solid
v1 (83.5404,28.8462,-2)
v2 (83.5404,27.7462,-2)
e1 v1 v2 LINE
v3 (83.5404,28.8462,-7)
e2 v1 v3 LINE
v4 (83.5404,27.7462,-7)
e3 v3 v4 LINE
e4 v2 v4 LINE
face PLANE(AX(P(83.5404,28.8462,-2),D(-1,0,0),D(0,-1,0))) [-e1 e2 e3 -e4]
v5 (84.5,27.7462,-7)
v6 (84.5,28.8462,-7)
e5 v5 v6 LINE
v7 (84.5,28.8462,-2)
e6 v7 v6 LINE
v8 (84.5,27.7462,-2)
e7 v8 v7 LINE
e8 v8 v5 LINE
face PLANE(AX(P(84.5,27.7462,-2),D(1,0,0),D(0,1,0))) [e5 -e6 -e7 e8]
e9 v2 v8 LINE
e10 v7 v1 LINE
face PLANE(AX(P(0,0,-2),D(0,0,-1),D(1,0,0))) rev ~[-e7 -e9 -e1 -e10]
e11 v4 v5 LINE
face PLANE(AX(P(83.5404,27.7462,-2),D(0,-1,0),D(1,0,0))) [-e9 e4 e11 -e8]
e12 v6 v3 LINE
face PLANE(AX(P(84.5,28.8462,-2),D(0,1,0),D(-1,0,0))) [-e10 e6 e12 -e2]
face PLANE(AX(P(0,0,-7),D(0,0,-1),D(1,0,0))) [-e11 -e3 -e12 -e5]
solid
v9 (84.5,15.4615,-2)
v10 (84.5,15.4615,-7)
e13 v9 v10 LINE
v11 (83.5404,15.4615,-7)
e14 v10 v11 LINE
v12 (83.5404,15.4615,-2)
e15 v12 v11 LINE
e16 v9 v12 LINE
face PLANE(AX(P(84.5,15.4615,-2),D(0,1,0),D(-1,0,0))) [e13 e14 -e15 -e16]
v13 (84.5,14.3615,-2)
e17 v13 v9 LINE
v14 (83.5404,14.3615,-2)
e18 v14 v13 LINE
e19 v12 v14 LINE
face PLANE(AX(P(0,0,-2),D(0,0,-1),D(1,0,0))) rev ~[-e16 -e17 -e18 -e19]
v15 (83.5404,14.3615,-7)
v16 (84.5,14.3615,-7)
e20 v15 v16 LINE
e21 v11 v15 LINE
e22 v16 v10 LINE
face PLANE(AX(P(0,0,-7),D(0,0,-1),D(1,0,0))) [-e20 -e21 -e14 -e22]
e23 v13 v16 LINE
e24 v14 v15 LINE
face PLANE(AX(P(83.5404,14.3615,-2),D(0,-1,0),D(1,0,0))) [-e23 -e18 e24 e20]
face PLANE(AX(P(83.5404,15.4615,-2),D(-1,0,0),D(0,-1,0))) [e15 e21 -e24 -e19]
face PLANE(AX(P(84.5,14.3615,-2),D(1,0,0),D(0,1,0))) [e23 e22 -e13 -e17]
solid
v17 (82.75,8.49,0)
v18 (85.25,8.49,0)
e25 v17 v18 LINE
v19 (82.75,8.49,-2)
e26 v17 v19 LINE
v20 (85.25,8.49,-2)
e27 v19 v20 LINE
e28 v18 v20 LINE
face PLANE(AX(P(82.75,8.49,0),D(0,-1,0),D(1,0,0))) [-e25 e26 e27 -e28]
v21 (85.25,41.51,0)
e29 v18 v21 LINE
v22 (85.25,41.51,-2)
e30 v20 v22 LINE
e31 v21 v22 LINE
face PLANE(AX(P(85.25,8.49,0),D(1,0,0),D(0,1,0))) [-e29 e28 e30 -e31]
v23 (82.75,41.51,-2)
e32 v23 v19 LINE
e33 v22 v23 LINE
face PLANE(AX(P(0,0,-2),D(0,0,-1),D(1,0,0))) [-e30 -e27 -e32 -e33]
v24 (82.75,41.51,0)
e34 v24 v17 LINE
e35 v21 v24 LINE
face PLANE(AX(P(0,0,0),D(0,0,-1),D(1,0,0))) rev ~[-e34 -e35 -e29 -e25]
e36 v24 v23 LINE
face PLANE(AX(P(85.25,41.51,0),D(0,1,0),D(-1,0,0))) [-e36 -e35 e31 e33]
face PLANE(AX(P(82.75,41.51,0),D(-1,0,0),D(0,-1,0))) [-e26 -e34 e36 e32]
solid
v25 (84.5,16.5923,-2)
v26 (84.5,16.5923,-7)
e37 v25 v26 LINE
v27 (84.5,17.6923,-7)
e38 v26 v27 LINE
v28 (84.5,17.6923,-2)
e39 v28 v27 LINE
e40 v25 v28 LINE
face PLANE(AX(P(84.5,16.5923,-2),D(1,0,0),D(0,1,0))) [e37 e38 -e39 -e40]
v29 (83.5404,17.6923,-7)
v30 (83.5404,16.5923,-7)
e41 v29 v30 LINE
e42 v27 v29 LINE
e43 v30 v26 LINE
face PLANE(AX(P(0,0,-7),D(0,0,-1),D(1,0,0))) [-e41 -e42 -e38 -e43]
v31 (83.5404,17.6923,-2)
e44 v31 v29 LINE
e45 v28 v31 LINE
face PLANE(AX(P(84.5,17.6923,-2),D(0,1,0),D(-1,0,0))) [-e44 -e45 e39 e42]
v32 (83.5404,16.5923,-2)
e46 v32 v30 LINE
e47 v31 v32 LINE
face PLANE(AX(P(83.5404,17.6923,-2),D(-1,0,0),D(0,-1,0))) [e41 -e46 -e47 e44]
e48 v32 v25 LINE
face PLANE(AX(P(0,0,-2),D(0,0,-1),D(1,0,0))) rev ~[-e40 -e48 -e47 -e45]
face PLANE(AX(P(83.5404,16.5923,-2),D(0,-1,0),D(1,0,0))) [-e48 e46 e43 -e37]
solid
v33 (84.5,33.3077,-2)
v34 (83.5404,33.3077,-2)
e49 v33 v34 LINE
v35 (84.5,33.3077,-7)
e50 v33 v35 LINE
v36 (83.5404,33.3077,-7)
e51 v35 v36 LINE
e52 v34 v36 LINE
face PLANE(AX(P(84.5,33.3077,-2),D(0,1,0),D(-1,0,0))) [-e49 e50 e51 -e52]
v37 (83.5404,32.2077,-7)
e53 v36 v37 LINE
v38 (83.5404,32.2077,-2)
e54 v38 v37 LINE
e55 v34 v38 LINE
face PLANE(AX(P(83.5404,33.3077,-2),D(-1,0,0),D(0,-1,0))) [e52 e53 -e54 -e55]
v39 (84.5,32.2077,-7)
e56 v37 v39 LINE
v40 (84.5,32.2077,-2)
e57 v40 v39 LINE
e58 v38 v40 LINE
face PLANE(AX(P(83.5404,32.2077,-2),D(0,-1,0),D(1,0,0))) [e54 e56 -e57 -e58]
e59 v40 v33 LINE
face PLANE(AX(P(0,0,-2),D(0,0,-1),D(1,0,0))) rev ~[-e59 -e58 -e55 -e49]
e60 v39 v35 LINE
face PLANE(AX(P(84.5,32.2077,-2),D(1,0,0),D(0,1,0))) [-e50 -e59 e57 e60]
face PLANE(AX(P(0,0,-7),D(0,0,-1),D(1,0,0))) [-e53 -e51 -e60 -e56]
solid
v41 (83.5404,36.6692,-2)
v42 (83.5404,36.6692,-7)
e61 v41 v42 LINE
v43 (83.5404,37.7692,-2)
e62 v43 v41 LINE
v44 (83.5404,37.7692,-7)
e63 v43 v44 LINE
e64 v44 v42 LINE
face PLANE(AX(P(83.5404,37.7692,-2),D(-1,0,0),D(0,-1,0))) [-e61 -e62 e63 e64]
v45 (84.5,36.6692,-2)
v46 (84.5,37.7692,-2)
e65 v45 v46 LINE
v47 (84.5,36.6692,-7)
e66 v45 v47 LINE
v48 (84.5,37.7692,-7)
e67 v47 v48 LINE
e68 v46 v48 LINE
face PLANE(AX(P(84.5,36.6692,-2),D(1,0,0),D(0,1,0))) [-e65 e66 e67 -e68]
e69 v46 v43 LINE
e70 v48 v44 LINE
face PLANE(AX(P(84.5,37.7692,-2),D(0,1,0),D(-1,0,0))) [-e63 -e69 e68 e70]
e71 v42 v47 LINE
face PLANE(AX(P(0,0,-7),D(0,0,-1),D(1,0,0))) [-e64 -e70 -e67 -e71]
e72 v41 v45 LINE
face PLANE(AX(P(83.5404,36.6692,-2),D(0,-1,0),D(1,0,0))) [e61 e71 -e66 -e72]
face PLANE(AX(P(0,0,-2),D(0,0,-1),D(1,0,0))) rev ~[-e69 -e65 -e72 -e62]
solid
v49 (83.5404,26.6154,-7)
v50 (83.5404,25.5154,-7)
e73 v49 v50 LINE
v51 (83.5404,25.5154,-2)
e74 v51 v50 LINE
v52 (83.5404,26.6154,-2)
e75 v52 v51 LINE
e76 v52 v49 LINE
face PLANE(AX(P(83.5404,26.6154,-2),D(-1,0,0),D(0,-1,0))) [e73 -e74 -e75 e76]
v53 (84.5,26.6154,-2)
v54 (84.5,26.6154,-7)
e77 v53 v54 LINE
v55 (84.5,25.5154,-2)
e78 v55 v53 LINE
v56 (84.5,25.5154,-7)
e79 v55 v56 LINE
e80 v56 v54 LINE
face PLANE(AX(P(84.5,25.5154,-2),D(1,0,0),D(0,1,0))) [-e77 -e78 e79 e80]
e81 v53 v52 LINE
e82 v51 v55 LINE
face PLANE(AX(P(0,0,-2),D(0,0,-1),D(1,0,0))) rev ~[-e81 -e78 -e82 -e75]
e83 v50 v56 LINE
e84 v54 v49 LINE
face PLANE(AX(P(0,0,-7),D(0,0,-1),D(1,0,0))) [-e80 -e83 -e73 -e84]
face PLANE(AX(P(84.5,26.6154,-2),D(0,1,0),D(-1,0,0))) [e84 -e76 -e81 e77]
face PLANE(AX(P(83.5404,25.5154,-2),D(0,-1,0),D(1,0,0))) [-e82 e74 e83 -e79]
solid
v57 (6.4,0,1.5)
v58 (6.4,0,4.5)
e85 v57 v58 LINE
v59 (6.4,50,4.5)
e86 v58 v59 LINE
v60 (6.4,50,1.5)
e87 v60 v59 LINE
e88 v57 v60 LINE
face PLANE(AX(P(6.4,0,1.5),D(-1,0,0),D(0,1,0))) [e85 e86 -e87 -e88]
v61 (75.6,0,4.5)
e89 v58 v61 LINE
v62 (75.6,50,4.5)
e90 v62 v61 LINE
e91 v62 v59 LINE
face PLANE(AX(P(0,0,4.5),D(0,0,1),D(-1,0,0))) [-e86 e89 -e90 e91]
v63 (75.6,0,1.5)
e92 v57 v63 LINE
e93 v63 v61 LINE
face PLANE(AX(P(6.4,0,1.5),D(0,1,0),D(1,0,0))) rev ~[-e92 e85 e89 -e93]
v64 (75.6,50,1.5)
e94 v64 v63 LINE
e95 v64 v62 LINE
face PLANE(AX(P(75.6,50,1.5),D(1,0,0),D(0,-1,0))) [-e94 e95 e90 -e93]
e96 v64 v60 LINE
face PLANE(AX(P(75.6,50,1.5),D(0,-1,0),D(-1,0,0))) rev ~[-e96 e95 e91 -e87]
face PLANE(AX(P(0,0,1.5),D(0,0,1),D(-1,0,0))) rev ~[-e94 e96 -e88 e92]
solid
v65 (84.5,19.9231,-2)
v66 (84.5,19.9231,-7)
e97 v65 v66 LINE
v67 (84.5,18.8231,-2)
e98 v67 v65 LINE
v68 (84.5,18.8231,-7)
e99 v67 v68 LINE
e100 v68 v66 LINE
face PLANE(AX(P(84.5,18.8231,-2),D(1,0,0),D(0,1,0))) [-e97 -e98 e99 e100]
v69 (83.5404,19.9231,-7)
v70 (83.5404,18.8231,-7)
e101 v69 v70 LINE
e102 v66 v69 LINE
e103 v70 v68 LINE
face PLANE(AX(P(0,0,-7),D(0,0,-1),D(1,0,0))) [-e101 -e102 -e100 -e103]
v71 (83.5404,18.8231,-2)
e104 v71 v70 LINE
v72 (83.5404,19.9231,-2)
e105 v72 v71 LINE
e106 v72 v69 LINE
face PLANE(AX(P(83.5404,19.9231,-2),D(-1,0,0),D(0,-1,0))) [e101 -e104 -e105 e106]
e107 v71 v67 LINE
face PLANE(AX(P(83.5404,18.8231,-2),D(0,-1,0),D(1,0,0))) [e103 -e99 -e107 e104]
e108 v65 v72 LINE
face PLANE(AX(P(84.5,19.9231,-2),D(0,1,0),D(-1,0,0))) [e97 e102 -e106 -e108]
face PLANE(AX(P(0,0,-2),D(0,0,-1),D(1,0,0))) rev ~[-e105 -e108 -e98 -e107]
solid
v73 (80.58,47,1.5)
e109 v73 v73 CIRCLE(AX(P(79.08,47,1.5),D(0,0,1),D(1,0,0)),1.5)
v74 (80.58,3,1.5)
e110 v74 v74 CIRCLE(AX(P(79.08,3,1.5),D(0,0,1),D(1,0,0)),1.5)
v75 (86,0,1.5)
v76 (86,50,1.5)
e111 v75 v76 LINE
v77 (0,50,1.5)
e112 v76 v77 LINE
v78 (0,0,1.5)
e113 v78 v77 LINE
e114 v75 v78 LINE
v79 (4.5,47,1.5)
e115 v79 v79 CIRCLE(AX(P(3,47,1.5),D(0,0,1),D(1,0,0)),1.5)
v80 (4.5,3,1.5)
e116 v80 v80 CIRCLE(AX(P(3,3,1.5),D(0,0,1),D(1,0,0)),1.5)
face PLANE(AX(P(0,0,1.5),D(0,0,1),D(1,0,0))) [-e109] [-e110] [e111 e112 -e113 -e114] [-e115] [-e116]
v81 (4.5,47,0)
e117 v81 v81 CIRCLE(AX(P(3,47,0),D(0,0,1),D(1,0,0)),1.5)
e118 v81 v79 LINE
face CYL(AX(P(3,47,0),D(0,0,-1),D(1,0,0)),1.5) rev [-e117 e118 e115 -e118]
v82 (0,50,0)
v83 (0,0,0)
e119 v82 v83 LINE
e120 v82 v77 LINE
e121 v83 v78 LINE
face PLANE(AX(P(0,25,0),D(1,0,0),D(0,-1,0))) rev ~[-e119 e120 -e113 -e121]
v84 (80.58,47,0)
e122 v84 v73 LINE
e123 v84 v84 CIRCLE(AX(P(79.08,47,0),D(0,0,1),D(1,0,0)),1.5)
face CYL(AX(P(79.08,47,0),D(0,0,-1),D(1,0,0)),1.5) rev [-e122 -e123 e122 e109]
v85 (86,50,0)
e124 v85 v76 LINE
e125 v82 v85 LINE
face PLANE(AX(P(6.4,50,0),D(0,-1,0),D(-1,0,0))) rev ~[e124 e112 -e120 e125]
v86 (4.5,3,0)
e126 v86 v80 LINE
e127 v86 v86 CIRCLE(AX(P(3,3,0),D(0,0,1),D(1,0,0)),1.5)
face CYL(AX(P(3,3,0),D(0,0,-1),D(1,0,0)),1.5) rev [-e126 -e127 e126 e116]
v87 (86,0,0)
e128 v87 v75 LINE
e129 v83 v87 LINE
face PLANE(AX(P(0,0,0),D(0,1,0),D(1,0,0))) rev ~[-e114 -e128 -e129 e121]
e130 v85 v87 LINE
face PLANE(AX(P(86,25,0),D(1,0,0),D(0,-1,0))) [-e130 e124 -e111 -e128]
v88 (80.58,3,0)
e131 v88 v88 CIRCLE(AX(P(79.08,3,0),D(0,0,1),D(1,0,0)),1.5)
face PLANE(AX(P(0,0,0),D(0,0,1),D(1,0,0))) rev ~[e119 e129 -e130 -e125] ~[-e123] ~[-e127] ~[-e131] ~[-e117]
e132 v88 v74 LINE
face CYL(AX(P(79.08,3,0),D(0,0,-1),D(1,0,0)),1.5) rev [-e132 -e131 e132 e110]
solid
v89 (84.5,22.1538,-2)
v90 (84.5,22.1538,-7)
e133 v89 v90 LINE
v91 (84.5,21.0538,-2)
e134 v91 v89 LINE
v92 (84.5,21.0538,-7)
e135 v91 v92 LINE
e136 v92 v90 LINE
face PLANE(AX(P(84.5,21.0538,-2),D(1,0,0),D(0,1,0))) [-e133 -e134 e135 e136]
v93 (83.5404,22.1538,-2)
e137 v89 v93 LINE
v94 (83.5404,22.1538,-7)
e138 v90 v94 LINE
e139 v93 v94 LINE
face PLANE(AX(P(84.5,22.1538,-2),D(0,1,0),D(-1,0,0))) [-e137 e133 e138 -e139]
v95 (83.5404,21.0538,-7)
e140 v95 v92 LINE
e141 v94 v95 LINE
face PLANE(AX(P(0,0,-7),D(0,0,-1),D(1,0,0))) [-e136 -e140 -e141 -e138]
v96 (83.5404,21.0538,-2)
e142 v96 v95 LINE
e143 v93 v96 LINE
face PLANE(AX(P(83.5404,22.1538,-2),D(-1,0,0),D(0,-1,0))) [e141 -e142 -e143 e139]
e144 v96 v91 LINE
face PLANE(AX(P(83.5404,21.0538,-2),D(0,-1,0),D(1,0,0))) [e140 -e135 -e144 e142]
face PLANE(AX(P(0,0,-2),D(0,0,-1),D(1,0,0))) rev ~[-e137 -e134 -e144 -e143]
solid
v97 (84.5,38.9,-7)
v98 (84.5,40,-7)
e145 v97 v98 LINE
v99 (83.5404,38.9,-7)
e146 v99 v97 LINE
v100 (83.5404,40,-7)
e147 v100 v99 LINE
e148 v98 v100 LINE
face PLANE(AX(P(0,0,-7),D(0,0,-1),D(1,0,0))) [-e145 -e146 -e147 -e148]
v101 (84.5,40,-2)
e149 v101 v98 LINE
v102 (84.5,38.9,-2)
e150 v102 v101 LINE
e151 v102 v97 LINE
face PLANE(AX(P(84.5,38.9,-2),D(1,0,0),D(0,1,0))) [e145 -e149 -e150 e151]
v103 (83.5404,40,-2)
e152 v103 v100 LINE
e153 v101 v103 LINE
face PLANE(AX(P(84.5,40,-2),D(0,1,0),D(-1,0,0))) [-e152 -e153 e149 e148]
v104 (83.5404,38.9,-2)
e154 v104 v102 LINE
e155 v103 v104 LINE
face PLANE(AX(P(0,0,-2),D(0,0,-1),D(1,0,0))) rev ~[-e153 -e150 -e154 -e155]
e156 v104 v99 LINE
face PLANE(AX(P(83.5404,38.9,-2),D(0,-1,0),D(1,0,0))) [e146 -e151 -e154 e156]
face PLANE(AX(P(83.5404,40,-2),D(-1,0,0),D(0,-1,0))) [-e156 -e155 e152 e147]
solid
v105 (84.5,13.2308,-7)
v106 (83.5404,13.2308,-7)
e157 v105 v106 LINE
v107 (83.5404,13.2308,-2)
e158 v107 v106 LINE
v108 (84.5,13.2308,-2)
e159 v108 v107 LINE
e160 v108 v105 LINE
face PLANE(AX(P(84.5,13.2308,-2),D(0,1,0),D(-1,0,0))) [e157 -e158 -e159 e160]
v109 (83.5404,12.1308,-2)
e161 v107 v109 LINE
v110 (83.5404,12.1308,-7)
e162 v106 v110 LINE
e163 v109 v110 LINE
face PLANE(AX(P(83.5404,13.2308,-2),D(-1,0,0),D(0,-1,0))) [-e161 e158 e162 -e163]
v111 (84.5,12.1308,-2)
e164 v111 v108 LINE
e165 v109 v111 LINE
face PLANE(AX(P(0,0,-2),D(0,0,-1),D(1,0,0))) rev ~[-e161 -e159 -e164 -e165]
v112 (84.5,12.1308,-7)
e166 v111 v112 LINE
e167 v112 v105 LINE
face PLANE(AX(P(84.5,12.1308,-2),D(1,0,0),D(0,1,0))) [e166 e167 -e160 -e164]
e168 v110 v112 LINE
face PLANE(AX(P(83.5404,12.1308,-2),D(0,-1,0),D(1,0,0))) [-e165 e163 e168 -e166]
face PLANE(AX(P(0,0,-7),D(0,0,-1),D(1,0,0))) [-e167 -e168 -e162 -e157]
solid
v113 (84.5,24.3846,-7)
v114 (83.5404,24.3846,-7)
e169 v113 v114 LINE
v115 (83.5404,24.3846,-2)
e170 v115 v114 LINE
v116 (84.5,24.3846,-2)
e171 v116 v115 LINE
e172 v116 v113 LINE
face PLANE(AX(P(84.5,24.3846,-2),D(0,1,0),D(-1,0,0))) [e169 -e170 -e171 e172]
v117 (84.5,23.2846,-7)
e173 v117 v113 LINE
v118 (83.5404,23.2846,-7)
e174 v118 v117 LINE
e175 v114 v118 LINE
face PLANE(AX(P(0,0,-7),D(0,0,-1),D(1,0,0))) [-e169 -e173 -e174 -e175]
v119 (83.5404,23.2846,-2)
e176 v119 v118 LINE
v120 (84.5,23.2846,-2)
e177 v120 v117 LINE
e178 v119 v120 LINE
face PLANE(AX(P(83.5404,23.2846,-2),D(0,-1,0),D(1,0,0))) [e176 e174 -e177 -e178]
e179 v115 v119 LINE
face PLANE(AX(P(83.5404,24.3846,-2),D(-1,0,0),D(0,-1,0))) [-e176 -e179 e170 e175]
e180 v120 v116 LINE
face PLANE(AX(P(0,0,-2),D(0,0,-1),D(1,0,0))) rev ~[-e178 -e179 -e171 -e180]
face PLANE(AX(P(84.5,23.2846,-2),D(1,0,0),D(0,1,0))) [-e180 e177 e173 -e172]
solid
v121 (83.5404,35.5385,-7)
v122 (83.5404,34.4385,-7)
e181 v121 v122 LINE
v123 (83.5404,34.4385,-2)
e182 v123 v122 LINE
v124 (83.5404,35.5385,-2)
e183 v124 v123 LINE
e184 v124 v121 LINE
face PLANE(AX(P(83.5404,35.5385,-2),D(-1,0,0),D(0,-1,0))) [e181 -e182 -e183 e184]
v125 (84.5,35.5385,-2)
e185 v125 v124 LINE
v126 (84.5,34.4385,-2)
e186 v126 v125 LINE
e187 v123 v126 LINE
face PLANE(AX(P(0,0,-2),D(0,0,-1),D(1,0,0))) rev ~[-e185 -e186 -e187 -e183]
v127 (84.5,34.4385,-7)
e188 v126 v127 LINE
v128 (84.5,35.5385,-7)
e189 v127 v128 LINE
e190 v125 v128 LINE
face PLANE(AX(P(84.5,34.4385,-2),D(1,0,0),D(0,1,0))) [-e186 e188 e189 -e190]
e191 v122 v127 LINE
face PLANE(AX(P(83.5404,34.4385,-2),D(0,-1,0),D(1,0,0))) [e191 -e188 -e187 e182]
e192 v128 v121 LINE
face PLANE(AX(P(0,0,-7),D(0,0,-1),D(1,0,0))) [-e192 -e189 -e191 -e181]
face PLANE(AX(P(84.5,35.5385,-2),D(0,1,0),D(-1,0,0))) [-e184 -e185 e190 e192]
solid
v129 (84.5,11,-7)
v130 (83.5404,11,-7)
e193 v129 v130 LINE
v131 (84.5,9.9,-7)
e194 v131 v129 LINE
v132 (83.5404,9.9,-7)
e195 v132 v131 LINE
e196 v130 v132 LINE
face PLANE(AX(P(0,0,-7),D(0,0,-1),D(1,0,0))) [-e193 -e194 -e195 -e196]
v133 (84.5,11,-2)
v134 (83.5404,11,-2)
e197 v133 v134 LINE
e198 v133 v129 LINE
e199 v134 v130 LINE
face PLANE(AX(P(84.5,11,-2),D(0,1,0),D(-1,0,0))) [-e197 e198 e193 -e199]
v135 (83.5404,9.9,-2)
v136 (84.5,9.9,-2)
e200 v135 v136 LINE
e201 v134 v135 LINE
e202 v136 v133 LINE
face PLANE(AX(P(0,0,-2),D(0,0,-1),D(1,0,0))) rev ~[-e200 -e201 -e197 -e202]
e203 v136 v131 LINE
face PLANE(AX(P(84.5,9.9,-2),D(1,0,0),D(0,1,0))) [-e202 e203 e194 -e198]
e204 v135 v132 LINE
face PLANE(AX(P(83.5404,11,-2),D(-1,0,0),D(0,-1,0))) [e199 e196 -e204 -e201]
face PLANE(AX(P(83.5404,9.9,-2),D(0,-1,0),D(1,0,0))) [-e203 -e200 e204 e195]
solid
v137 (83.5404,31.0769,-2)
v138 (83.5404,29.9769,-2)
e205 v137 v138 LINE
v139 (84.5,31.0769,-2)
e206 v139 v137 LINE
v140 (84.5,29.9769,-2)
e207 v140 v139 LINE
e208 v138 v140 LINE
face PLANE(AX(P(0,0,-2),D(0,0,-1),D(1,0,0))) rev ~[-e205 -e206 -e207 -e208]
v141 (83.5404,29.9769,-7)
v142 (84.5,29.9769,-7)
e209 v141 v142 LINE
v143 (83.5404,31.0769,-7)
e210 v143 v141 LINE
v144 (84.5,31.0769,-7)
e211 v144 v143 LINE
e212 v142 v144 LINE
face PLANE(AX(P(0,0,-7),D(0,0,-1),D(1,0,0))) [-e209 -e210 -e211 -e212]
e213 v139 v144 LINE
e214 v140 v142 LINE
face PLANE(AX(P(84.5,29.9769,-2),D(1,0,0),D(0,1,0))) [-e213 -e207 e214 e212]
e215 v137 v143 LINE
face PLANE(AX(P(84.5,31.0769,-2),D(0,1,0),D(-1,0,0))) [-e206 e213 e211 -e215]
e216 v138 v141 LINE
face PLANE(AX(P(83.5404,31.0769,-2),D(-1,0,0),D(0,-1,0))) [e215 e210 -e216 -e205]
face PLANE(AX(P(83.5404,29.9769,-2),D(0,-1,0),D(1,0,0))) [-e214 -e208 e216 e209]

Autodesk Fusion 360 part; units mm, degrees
sketch "草图1" plane through (0, 0, 0) normal (0, 0, 1) x (1, 0, 0)
  line L0 (0, 0) -> (6.4, 0)
  line L1 (6.4, 0) -> (6.4, 50)
  line L2 (6.4, 50) -> (0, 50)
  line L3 (0, 50) -> (0, 0)
  line L4 (6.4, 50) -> (75.6, 50)
  line L5 (75.6, 50) -> (75.6, 0)
  line L6 (75.6, 0) -> (6.4, 0)
  line L7 (6.4, 0) -> (6.4, 50)
  line L8 (75.6, 50) -> (86, 50)
  line L9 (86, 50) -> (86, 0)
  line L10 (86, 0) -> (75.6, 0)
  line L11 (75.6, 0) -> (75.6, 50)
  line L12 (-10, 25) -> (111.3719, 25)
  circle A0 centre (3, 3) radius 1.5
  circle A1 centre (3, 47) radius 1.5
  circle A2 centre (79.08, 47) radius 1.5
  circle A3 centre (79.08, 3) radius 1.5
  dimension "d1" = 50
  dimension "d2" = 6.4
  dimension "d3" = 69.2
  dimension "d4" = 10.4
  dimension "d5" = 3
  dimension "d6" = 3
  dimension "d7" = 3
  dimension "d8" = 50
  dimension "d9" = 3
  dimension "d10" = 3
  dimension "d11" = 6.92
extrude "拉伸1" add sketch "草图1" along normal blind 1.5 makes body 1
sketch "草图2" plane through (0, 0, 1.5) normal (0, 0, 1) x (-1, 0, 0)
  circle A0 centre (-3, -47) radius 1.5
  circle A1 centre (-79.08, -47) radius 1.5
  circle A2 centre (-3, -3) radius 1.5
  circle A3 centre (-79.08, -3) radius 1.5
  line L0 (-86, -50) -> (0, -50)
  line L1 (0, -50) -> (0, 0)
  line L2 (0, 0) -> (-86, 0)
  line L3 (-86, 0) -> (-86, -50)
  line L4 (-6.4, -50) -> (-75.6, -50)
  line L5 (-75.6, -50) -> (-75.6, 0)
  line L6 (-75.6, 0) -> (-6.4, 0)
  line L7 (-6.4, 0) -> (-6.4, -50)
  dimension "d14" = 69.2
  dimension "d15" = 6.4
extrude "拉伸2" add sketch "草图2" along normal blind 3 separate body contours L0 L2 L4 L5 L6 L7 makes body 2
sketch "草图3" plane through (0, 0, 0) normal (0, 0, -1) x (1, 0, 0)
  circle A0 centre (3, -47) radius 1.5
  circle A1 centre (79.08, -47) radius 1.5
  circle A2 centre (3, -3) radius 1.5
  circle A3 centre (79.08, -3) radius 1.5
  line L0 (0, -50) -> (86, -50)
  line L1 (86, -50) -> (86, 0)
  line L2 (86, 0) -> (0, 0)
  line L3 (0, 0) -> (0, -50)
  line L4 (82.75, -8.49) -> (85.25, -8.49)
  line L5 (85.25, -8.49) -> (85.25, -41.51)
  line L6 (85.25, -41.51) -> (82.75, -41.51)
  line L7 (82.75, -41.51) -> (82.75, -8.49)
  dimension "d18" = 8.49
  dimension "d19" = 8.49
  dimension "d20" = 2.5
  dimension "d21" = 0.75
extrude "拉伸3" add sketch "草图3" along normal blind 2 separate body contours L4 L5 L6 L7 makes body 3
sketch "草图4" plane through (0, 0, -2) normal (0, 0, -1) x (1, 0, 0)
  line L0 (82.75, -41.51) -> (85.25, -41.51)
  line L1 (85.25, -41.51) -> (85.25, -8.49)
  line L2 (85.25, -8.49) -> (82.75, -8.49)
  line L3 (82.75, -8.49) -> (82.75, -41.51)
  line L4 (84.5, -11) -> (83.5404, -11)
  line L5 (83.5404, -11) -> (83.5404, -9.9)
  line L6 (83.5404, -9.9) -> (84.5, -9.9)
  line L7 (84.5, -9.9) -> (84.5, -11)
  line L8 (84.5, -11) -> (83.5404, -9.9) construction
  line L9 (83.5404, -11) -> (84.5, -9.9) construction
  line L10 (83.5404, -13.2308) -> (83.5404, -12.1308)
  line L11 (84.5, -13.2308) -> (83.5404, -13.2308)
  line L12 (83.5404, -12.1308) -> (84.5, -12.1308)
  line L13 (84.5, -12.1308) -> (84.5, -13.2308)
  line L14 (83.5404, -15.4615) -> (83.5404, -14.3615)
  line L15 (84.5, -15.4615) -> (83.5404, -15.4615)
  line L16 (83.5404, -14.3615) -> (84.5, -14.3615)
  line L17 (84.5, -14.3615) -> (84.5, -15.4615)
  line L18 (83.5404, -17.6923) -> (83.5404, -16.5923)
  line L19 (84.5, -17.6923) -> (83.5404, -17.6923)
  line L20 (83.5404, -16.5923) -> (84.5, -16.5923)
  line L21 (84.5, -16.5923) -> (84.5, -17.6923)
  line L22 (83.5404, -19.9231) -> (83.5404, -18.8231)
  line L23 (84.5, -19.9231) -> (83.5404, -19.9231)
  line L24 (83.5404, -18.8231) -> (84.5, -18.8231)
  line L25 (84.5, -18.8231) -> (84.5, -19.9231)
  line L26 (83.5404, -22.1538) -> (83.5404, -21.0538)
  line L27 (84.5, -22.1538) -> (83.5404, -22.1538)
  line L28 (83.5404, -21.0538) -> (84.5, -21.0538)
  line L29 (84.5, -21.0538) -> (84.5, -22.1538)
  line L30 (83.5404, -24.3846) -> (83.5404, -23.2846)
  line L31 (84.5, -24.3846) -> (83.5404, -24.3846)
  line L32 (83.5404, -23.2846) -> (84.5, -23.2846)
  line L33 (84.5, -23.2846) -> (84.5, -24.3846)
  line L34 (83.5404, -26.6154) -> (83.5404, -25.5154)
  line L35 (84.5, -26.6154) -> (83.5404, -26.6154)
  line L36 (83.5404, -25.5154) -> (84.5, -25.5154)
  line L37 (84.5, -25.5154) -> (84.5, -26.6154)
  line L38 (83.5404, -28.8462) -> (83.5404, -27.7462)
  line L39 (84.5, -28.8462) -> (83.5404, -28.8462)
  line L40 (83.5404, -27.7462) -> (84.5, -27.7462)
  line L41 (84.5, -27.7462) -> (84.5, -28.8462)
  line L42 (83.5404, -31.0769) -> (83.5404, -29.9769)
  line L43 (84.5, -31.0769) -> (83.5404, -31.0769)
  line L44 (83.5404, -29.9769) -> (84.5, -29.9769)
  line L45 (84.5, -29.9769) -> (84.5, -31.0769)
  line L46 (83.5404, -33.3077) -> (83.5404, -32.2077)
  line L47 (84.5, -33.3077) -> (83.5404, -33.3077)
  line L48 (83.5404, -32.2077) -> (84.5, -32.2077)
  line L49 (84.5, -32.2077) -> (84.5, -33.3077)
  line L50 (83.5404, -35.5385) -> (83.5404, -34.4385)
  line L51 (84.5, -35.5385) -> (83.5404, -35.5385)
  line L52 (83.5404, -34.4385) -> (84.5, -34.4385)
  line L53 (84.5, -34.4385) -> (84.5, -35.5385)
  line L54 (83.5404, -37.7692) -> (83.5404, -36.6692)
  line L55 (84.5, -37.7692) -> (83.5404, -37.7692)
  line L56 (83.5404, -36.6692) -> (84.5, -36.6692)
  line L57 (84.5, -36.6692) -> (84.5, -37.7692)
  line L58 (83.5404, -40) -> (83.5404, -38.9)
  line L59 (84.5, -40) -> (83.5404, -40)
  line L60 (83.5404, -38.9) -> (84.5, -38.9)
  line L61 (84.5, -38.9) -> (84.5, -40)
  point P0 (84.0202, -10.45)
  dimension "d26" = 0
  dimension "d27" = -29
extrude "拉伸4" add sketch "草图4" along normal blind 5 separate body contours L4 L5 L6 L7 | L10 L11 L12 L13 | L14 L15 L16 L17 | L18 L19 L20 L21 | L22 L23 L24 L25 | L26 L27 L28 L29 | L30 L31 L32 L33 | L34 L35 L36 L37 | L38 L39 L40 L41 | L42 L43 L44 L45 | L46 L47 L48 L49 | L50 L51 L52 L53 | L54 L55 L56 L57 | L58 L59 L60 L61 makes body 4 at (83.5404, 30.7103, -3.6667) makes body 5 at (83.5404, 21.7872, -3.6667) makes body 6 at (83.5404, 12.8641, -3.6667) makes body 7 at (83.5404, 39.6333, -3.6667) makes body 8 at (83.5404, 15.0949, -3.6667) makes body 9 at (83.5404, 24.0179, -3.6667) makes body 10 at (83.5404, 32.941, -3.6667) makes body 11 at (83.5404, 28.4795, -3.6667) makes body 12 at (83.5404, 19.5564, -3.6667) makes body 13 at (83.5404, 10.6333, -3.6667) makes body 14 at (83.5404, 37.4026, -3.6667) makes body 15 at (83.5404, 17.3256, -3.6667) makes body 16 at (83.5404, 26.2487, -3.6667) makes body 17 at (84.5, 34.8051, -3.6667)
copy_body "实体->零部件1" bodies 1 removing the originals makes body 18 in component "Component'"
copy_body "实体->零部件2" bodies 2 removing the originals makes body 19 in component "Component''"
copy_body "实体->零部件3" bodies 3 removing the originals makes body 20 in component "Component'''"
copy_body "实体->零部件4" bodies 4 removing the originals makes body 21 in component "Component''''"
copy_body "实体->零部件5" bodies 5 removing the originals makes body 22 in component "Component'''''"
copy_body "实体->零部件6" bodies 6 removing the originals makes body 23 in component "Component''''''"
copy_body "实体->零部件7" bodies 7 removing the originals makes body 24 in component "Component'''''''"
copy_body "实体->零部件8" bodies 8 removing the originals makes body 25 in component "Component''''''''"
copy_body "实体->零部件9" bodies 9 removing the originals makes body 26 in component "Component'''''''''"
copy_body "实体->零部件10" bodies 10 removing the originals makes body 27 in component "Component''''''''''"
copy_body "实体->零部件11" bodies 11 removing the originals makes body 28 in component "Component'''''''''''"
copy_body "实体->零部件12" bodies 12 removing the originals makes body 29 in component "Component''''''''''''"
copy_body "实体->零部件13" bodies 13 removing the originals makes body 30 in component "Component'''''''''''''"
copy_body "实体->零部件14" bodies 14 removing the originals makes body 31 in component "Component''''''''''''''"
copy_body "实体->零部件15" bodies 15 removing the originals makes body 32 in component "Component'''''''''''''''"
copy_body "实体->零部件16" bodies 16 removing the originals makes body 33 in component "Component''''''''''''''''"
copy_body "实体->零部件17" bodies 17 removing the originals makes body 34 in component "Component'''''''''''''''''"
component "Component'" placed x (1, 0, 0) y (0, 1, 0) z (0, 0, 1) at (0, 0, 0)
component "Component''" placed x (1, 0, 0) y (0, 1, 0) z (0, 0, 1) at (0, 0, 0)
component "Component'''" placed x (1, 0, 0) y (0, 1, 0) z (0, 0, 1) at (0, 0, 0)
component "Component''''" placed x (1, 0, 0) y (0, 1, 0) z (0, 0, 1) at (0, 0, 0)
component "Component'''''" placed x (1, 0, 0) y (0, 1, 0) z (0, 0, 1) at (0, 0, 0)
component "Component''''''" placed x (1, 0, 0) y (0, 1, 0) z (0, 0, 1) at (0, 0, 0)
component "Component'''''''" placed x (1, 0, 0) y (0, 1, 0) z (0, 0, 1) at (0, 0, 0)
component "Component''''''''" placed x (1, 0, 0) y (0, 1, 0) z (0, 0, 1) at (0, 0, 0)
component "Component'''''''''" placed x (1, 0, 0) y (0, 1, 0) z (0, 0, 1) at (0, 0, 0)
component "Component''''''''''" placed x (1, 0, 0) y (0, 1, 0) z (0, 0, 1) at (0, 0, 0)
component "Component'''''''''''" placed x (1, 0, 0) y (0, 1, 0) z (0, 0, 1) at (0, 0, 0)
component "Component''''''''''''" placed x (1, 0, 0) y (0, 1, 0) z (0, 0, 1) at (0, 0, 0)
component "Component'''''''''''''" placed x (1, 0, 0) y (0, 1, 0) z (0, 0, 1) at (0, 0, 0)
component "Component''''''''''''''" placed x (1, 0, 0) y (0, 1, 0) z (0, 0, 1) at (0, 0, 0)
component "Component'''''''''''''''" placed x (1, 0, 0) y (0, 1, 0) z (0, 0, 1) at (0, 0, 0)
component "Component''''''''''''''''" placed x (1, 0, 0) y (0, 1, 0) z (0, 0, 1) at (0, 0, 0)
component "Component'''''''''''''''''" placed x (1, 0, 0) y (0, 1, 0) z (0, 0, 1) at (0, 0, 0)
